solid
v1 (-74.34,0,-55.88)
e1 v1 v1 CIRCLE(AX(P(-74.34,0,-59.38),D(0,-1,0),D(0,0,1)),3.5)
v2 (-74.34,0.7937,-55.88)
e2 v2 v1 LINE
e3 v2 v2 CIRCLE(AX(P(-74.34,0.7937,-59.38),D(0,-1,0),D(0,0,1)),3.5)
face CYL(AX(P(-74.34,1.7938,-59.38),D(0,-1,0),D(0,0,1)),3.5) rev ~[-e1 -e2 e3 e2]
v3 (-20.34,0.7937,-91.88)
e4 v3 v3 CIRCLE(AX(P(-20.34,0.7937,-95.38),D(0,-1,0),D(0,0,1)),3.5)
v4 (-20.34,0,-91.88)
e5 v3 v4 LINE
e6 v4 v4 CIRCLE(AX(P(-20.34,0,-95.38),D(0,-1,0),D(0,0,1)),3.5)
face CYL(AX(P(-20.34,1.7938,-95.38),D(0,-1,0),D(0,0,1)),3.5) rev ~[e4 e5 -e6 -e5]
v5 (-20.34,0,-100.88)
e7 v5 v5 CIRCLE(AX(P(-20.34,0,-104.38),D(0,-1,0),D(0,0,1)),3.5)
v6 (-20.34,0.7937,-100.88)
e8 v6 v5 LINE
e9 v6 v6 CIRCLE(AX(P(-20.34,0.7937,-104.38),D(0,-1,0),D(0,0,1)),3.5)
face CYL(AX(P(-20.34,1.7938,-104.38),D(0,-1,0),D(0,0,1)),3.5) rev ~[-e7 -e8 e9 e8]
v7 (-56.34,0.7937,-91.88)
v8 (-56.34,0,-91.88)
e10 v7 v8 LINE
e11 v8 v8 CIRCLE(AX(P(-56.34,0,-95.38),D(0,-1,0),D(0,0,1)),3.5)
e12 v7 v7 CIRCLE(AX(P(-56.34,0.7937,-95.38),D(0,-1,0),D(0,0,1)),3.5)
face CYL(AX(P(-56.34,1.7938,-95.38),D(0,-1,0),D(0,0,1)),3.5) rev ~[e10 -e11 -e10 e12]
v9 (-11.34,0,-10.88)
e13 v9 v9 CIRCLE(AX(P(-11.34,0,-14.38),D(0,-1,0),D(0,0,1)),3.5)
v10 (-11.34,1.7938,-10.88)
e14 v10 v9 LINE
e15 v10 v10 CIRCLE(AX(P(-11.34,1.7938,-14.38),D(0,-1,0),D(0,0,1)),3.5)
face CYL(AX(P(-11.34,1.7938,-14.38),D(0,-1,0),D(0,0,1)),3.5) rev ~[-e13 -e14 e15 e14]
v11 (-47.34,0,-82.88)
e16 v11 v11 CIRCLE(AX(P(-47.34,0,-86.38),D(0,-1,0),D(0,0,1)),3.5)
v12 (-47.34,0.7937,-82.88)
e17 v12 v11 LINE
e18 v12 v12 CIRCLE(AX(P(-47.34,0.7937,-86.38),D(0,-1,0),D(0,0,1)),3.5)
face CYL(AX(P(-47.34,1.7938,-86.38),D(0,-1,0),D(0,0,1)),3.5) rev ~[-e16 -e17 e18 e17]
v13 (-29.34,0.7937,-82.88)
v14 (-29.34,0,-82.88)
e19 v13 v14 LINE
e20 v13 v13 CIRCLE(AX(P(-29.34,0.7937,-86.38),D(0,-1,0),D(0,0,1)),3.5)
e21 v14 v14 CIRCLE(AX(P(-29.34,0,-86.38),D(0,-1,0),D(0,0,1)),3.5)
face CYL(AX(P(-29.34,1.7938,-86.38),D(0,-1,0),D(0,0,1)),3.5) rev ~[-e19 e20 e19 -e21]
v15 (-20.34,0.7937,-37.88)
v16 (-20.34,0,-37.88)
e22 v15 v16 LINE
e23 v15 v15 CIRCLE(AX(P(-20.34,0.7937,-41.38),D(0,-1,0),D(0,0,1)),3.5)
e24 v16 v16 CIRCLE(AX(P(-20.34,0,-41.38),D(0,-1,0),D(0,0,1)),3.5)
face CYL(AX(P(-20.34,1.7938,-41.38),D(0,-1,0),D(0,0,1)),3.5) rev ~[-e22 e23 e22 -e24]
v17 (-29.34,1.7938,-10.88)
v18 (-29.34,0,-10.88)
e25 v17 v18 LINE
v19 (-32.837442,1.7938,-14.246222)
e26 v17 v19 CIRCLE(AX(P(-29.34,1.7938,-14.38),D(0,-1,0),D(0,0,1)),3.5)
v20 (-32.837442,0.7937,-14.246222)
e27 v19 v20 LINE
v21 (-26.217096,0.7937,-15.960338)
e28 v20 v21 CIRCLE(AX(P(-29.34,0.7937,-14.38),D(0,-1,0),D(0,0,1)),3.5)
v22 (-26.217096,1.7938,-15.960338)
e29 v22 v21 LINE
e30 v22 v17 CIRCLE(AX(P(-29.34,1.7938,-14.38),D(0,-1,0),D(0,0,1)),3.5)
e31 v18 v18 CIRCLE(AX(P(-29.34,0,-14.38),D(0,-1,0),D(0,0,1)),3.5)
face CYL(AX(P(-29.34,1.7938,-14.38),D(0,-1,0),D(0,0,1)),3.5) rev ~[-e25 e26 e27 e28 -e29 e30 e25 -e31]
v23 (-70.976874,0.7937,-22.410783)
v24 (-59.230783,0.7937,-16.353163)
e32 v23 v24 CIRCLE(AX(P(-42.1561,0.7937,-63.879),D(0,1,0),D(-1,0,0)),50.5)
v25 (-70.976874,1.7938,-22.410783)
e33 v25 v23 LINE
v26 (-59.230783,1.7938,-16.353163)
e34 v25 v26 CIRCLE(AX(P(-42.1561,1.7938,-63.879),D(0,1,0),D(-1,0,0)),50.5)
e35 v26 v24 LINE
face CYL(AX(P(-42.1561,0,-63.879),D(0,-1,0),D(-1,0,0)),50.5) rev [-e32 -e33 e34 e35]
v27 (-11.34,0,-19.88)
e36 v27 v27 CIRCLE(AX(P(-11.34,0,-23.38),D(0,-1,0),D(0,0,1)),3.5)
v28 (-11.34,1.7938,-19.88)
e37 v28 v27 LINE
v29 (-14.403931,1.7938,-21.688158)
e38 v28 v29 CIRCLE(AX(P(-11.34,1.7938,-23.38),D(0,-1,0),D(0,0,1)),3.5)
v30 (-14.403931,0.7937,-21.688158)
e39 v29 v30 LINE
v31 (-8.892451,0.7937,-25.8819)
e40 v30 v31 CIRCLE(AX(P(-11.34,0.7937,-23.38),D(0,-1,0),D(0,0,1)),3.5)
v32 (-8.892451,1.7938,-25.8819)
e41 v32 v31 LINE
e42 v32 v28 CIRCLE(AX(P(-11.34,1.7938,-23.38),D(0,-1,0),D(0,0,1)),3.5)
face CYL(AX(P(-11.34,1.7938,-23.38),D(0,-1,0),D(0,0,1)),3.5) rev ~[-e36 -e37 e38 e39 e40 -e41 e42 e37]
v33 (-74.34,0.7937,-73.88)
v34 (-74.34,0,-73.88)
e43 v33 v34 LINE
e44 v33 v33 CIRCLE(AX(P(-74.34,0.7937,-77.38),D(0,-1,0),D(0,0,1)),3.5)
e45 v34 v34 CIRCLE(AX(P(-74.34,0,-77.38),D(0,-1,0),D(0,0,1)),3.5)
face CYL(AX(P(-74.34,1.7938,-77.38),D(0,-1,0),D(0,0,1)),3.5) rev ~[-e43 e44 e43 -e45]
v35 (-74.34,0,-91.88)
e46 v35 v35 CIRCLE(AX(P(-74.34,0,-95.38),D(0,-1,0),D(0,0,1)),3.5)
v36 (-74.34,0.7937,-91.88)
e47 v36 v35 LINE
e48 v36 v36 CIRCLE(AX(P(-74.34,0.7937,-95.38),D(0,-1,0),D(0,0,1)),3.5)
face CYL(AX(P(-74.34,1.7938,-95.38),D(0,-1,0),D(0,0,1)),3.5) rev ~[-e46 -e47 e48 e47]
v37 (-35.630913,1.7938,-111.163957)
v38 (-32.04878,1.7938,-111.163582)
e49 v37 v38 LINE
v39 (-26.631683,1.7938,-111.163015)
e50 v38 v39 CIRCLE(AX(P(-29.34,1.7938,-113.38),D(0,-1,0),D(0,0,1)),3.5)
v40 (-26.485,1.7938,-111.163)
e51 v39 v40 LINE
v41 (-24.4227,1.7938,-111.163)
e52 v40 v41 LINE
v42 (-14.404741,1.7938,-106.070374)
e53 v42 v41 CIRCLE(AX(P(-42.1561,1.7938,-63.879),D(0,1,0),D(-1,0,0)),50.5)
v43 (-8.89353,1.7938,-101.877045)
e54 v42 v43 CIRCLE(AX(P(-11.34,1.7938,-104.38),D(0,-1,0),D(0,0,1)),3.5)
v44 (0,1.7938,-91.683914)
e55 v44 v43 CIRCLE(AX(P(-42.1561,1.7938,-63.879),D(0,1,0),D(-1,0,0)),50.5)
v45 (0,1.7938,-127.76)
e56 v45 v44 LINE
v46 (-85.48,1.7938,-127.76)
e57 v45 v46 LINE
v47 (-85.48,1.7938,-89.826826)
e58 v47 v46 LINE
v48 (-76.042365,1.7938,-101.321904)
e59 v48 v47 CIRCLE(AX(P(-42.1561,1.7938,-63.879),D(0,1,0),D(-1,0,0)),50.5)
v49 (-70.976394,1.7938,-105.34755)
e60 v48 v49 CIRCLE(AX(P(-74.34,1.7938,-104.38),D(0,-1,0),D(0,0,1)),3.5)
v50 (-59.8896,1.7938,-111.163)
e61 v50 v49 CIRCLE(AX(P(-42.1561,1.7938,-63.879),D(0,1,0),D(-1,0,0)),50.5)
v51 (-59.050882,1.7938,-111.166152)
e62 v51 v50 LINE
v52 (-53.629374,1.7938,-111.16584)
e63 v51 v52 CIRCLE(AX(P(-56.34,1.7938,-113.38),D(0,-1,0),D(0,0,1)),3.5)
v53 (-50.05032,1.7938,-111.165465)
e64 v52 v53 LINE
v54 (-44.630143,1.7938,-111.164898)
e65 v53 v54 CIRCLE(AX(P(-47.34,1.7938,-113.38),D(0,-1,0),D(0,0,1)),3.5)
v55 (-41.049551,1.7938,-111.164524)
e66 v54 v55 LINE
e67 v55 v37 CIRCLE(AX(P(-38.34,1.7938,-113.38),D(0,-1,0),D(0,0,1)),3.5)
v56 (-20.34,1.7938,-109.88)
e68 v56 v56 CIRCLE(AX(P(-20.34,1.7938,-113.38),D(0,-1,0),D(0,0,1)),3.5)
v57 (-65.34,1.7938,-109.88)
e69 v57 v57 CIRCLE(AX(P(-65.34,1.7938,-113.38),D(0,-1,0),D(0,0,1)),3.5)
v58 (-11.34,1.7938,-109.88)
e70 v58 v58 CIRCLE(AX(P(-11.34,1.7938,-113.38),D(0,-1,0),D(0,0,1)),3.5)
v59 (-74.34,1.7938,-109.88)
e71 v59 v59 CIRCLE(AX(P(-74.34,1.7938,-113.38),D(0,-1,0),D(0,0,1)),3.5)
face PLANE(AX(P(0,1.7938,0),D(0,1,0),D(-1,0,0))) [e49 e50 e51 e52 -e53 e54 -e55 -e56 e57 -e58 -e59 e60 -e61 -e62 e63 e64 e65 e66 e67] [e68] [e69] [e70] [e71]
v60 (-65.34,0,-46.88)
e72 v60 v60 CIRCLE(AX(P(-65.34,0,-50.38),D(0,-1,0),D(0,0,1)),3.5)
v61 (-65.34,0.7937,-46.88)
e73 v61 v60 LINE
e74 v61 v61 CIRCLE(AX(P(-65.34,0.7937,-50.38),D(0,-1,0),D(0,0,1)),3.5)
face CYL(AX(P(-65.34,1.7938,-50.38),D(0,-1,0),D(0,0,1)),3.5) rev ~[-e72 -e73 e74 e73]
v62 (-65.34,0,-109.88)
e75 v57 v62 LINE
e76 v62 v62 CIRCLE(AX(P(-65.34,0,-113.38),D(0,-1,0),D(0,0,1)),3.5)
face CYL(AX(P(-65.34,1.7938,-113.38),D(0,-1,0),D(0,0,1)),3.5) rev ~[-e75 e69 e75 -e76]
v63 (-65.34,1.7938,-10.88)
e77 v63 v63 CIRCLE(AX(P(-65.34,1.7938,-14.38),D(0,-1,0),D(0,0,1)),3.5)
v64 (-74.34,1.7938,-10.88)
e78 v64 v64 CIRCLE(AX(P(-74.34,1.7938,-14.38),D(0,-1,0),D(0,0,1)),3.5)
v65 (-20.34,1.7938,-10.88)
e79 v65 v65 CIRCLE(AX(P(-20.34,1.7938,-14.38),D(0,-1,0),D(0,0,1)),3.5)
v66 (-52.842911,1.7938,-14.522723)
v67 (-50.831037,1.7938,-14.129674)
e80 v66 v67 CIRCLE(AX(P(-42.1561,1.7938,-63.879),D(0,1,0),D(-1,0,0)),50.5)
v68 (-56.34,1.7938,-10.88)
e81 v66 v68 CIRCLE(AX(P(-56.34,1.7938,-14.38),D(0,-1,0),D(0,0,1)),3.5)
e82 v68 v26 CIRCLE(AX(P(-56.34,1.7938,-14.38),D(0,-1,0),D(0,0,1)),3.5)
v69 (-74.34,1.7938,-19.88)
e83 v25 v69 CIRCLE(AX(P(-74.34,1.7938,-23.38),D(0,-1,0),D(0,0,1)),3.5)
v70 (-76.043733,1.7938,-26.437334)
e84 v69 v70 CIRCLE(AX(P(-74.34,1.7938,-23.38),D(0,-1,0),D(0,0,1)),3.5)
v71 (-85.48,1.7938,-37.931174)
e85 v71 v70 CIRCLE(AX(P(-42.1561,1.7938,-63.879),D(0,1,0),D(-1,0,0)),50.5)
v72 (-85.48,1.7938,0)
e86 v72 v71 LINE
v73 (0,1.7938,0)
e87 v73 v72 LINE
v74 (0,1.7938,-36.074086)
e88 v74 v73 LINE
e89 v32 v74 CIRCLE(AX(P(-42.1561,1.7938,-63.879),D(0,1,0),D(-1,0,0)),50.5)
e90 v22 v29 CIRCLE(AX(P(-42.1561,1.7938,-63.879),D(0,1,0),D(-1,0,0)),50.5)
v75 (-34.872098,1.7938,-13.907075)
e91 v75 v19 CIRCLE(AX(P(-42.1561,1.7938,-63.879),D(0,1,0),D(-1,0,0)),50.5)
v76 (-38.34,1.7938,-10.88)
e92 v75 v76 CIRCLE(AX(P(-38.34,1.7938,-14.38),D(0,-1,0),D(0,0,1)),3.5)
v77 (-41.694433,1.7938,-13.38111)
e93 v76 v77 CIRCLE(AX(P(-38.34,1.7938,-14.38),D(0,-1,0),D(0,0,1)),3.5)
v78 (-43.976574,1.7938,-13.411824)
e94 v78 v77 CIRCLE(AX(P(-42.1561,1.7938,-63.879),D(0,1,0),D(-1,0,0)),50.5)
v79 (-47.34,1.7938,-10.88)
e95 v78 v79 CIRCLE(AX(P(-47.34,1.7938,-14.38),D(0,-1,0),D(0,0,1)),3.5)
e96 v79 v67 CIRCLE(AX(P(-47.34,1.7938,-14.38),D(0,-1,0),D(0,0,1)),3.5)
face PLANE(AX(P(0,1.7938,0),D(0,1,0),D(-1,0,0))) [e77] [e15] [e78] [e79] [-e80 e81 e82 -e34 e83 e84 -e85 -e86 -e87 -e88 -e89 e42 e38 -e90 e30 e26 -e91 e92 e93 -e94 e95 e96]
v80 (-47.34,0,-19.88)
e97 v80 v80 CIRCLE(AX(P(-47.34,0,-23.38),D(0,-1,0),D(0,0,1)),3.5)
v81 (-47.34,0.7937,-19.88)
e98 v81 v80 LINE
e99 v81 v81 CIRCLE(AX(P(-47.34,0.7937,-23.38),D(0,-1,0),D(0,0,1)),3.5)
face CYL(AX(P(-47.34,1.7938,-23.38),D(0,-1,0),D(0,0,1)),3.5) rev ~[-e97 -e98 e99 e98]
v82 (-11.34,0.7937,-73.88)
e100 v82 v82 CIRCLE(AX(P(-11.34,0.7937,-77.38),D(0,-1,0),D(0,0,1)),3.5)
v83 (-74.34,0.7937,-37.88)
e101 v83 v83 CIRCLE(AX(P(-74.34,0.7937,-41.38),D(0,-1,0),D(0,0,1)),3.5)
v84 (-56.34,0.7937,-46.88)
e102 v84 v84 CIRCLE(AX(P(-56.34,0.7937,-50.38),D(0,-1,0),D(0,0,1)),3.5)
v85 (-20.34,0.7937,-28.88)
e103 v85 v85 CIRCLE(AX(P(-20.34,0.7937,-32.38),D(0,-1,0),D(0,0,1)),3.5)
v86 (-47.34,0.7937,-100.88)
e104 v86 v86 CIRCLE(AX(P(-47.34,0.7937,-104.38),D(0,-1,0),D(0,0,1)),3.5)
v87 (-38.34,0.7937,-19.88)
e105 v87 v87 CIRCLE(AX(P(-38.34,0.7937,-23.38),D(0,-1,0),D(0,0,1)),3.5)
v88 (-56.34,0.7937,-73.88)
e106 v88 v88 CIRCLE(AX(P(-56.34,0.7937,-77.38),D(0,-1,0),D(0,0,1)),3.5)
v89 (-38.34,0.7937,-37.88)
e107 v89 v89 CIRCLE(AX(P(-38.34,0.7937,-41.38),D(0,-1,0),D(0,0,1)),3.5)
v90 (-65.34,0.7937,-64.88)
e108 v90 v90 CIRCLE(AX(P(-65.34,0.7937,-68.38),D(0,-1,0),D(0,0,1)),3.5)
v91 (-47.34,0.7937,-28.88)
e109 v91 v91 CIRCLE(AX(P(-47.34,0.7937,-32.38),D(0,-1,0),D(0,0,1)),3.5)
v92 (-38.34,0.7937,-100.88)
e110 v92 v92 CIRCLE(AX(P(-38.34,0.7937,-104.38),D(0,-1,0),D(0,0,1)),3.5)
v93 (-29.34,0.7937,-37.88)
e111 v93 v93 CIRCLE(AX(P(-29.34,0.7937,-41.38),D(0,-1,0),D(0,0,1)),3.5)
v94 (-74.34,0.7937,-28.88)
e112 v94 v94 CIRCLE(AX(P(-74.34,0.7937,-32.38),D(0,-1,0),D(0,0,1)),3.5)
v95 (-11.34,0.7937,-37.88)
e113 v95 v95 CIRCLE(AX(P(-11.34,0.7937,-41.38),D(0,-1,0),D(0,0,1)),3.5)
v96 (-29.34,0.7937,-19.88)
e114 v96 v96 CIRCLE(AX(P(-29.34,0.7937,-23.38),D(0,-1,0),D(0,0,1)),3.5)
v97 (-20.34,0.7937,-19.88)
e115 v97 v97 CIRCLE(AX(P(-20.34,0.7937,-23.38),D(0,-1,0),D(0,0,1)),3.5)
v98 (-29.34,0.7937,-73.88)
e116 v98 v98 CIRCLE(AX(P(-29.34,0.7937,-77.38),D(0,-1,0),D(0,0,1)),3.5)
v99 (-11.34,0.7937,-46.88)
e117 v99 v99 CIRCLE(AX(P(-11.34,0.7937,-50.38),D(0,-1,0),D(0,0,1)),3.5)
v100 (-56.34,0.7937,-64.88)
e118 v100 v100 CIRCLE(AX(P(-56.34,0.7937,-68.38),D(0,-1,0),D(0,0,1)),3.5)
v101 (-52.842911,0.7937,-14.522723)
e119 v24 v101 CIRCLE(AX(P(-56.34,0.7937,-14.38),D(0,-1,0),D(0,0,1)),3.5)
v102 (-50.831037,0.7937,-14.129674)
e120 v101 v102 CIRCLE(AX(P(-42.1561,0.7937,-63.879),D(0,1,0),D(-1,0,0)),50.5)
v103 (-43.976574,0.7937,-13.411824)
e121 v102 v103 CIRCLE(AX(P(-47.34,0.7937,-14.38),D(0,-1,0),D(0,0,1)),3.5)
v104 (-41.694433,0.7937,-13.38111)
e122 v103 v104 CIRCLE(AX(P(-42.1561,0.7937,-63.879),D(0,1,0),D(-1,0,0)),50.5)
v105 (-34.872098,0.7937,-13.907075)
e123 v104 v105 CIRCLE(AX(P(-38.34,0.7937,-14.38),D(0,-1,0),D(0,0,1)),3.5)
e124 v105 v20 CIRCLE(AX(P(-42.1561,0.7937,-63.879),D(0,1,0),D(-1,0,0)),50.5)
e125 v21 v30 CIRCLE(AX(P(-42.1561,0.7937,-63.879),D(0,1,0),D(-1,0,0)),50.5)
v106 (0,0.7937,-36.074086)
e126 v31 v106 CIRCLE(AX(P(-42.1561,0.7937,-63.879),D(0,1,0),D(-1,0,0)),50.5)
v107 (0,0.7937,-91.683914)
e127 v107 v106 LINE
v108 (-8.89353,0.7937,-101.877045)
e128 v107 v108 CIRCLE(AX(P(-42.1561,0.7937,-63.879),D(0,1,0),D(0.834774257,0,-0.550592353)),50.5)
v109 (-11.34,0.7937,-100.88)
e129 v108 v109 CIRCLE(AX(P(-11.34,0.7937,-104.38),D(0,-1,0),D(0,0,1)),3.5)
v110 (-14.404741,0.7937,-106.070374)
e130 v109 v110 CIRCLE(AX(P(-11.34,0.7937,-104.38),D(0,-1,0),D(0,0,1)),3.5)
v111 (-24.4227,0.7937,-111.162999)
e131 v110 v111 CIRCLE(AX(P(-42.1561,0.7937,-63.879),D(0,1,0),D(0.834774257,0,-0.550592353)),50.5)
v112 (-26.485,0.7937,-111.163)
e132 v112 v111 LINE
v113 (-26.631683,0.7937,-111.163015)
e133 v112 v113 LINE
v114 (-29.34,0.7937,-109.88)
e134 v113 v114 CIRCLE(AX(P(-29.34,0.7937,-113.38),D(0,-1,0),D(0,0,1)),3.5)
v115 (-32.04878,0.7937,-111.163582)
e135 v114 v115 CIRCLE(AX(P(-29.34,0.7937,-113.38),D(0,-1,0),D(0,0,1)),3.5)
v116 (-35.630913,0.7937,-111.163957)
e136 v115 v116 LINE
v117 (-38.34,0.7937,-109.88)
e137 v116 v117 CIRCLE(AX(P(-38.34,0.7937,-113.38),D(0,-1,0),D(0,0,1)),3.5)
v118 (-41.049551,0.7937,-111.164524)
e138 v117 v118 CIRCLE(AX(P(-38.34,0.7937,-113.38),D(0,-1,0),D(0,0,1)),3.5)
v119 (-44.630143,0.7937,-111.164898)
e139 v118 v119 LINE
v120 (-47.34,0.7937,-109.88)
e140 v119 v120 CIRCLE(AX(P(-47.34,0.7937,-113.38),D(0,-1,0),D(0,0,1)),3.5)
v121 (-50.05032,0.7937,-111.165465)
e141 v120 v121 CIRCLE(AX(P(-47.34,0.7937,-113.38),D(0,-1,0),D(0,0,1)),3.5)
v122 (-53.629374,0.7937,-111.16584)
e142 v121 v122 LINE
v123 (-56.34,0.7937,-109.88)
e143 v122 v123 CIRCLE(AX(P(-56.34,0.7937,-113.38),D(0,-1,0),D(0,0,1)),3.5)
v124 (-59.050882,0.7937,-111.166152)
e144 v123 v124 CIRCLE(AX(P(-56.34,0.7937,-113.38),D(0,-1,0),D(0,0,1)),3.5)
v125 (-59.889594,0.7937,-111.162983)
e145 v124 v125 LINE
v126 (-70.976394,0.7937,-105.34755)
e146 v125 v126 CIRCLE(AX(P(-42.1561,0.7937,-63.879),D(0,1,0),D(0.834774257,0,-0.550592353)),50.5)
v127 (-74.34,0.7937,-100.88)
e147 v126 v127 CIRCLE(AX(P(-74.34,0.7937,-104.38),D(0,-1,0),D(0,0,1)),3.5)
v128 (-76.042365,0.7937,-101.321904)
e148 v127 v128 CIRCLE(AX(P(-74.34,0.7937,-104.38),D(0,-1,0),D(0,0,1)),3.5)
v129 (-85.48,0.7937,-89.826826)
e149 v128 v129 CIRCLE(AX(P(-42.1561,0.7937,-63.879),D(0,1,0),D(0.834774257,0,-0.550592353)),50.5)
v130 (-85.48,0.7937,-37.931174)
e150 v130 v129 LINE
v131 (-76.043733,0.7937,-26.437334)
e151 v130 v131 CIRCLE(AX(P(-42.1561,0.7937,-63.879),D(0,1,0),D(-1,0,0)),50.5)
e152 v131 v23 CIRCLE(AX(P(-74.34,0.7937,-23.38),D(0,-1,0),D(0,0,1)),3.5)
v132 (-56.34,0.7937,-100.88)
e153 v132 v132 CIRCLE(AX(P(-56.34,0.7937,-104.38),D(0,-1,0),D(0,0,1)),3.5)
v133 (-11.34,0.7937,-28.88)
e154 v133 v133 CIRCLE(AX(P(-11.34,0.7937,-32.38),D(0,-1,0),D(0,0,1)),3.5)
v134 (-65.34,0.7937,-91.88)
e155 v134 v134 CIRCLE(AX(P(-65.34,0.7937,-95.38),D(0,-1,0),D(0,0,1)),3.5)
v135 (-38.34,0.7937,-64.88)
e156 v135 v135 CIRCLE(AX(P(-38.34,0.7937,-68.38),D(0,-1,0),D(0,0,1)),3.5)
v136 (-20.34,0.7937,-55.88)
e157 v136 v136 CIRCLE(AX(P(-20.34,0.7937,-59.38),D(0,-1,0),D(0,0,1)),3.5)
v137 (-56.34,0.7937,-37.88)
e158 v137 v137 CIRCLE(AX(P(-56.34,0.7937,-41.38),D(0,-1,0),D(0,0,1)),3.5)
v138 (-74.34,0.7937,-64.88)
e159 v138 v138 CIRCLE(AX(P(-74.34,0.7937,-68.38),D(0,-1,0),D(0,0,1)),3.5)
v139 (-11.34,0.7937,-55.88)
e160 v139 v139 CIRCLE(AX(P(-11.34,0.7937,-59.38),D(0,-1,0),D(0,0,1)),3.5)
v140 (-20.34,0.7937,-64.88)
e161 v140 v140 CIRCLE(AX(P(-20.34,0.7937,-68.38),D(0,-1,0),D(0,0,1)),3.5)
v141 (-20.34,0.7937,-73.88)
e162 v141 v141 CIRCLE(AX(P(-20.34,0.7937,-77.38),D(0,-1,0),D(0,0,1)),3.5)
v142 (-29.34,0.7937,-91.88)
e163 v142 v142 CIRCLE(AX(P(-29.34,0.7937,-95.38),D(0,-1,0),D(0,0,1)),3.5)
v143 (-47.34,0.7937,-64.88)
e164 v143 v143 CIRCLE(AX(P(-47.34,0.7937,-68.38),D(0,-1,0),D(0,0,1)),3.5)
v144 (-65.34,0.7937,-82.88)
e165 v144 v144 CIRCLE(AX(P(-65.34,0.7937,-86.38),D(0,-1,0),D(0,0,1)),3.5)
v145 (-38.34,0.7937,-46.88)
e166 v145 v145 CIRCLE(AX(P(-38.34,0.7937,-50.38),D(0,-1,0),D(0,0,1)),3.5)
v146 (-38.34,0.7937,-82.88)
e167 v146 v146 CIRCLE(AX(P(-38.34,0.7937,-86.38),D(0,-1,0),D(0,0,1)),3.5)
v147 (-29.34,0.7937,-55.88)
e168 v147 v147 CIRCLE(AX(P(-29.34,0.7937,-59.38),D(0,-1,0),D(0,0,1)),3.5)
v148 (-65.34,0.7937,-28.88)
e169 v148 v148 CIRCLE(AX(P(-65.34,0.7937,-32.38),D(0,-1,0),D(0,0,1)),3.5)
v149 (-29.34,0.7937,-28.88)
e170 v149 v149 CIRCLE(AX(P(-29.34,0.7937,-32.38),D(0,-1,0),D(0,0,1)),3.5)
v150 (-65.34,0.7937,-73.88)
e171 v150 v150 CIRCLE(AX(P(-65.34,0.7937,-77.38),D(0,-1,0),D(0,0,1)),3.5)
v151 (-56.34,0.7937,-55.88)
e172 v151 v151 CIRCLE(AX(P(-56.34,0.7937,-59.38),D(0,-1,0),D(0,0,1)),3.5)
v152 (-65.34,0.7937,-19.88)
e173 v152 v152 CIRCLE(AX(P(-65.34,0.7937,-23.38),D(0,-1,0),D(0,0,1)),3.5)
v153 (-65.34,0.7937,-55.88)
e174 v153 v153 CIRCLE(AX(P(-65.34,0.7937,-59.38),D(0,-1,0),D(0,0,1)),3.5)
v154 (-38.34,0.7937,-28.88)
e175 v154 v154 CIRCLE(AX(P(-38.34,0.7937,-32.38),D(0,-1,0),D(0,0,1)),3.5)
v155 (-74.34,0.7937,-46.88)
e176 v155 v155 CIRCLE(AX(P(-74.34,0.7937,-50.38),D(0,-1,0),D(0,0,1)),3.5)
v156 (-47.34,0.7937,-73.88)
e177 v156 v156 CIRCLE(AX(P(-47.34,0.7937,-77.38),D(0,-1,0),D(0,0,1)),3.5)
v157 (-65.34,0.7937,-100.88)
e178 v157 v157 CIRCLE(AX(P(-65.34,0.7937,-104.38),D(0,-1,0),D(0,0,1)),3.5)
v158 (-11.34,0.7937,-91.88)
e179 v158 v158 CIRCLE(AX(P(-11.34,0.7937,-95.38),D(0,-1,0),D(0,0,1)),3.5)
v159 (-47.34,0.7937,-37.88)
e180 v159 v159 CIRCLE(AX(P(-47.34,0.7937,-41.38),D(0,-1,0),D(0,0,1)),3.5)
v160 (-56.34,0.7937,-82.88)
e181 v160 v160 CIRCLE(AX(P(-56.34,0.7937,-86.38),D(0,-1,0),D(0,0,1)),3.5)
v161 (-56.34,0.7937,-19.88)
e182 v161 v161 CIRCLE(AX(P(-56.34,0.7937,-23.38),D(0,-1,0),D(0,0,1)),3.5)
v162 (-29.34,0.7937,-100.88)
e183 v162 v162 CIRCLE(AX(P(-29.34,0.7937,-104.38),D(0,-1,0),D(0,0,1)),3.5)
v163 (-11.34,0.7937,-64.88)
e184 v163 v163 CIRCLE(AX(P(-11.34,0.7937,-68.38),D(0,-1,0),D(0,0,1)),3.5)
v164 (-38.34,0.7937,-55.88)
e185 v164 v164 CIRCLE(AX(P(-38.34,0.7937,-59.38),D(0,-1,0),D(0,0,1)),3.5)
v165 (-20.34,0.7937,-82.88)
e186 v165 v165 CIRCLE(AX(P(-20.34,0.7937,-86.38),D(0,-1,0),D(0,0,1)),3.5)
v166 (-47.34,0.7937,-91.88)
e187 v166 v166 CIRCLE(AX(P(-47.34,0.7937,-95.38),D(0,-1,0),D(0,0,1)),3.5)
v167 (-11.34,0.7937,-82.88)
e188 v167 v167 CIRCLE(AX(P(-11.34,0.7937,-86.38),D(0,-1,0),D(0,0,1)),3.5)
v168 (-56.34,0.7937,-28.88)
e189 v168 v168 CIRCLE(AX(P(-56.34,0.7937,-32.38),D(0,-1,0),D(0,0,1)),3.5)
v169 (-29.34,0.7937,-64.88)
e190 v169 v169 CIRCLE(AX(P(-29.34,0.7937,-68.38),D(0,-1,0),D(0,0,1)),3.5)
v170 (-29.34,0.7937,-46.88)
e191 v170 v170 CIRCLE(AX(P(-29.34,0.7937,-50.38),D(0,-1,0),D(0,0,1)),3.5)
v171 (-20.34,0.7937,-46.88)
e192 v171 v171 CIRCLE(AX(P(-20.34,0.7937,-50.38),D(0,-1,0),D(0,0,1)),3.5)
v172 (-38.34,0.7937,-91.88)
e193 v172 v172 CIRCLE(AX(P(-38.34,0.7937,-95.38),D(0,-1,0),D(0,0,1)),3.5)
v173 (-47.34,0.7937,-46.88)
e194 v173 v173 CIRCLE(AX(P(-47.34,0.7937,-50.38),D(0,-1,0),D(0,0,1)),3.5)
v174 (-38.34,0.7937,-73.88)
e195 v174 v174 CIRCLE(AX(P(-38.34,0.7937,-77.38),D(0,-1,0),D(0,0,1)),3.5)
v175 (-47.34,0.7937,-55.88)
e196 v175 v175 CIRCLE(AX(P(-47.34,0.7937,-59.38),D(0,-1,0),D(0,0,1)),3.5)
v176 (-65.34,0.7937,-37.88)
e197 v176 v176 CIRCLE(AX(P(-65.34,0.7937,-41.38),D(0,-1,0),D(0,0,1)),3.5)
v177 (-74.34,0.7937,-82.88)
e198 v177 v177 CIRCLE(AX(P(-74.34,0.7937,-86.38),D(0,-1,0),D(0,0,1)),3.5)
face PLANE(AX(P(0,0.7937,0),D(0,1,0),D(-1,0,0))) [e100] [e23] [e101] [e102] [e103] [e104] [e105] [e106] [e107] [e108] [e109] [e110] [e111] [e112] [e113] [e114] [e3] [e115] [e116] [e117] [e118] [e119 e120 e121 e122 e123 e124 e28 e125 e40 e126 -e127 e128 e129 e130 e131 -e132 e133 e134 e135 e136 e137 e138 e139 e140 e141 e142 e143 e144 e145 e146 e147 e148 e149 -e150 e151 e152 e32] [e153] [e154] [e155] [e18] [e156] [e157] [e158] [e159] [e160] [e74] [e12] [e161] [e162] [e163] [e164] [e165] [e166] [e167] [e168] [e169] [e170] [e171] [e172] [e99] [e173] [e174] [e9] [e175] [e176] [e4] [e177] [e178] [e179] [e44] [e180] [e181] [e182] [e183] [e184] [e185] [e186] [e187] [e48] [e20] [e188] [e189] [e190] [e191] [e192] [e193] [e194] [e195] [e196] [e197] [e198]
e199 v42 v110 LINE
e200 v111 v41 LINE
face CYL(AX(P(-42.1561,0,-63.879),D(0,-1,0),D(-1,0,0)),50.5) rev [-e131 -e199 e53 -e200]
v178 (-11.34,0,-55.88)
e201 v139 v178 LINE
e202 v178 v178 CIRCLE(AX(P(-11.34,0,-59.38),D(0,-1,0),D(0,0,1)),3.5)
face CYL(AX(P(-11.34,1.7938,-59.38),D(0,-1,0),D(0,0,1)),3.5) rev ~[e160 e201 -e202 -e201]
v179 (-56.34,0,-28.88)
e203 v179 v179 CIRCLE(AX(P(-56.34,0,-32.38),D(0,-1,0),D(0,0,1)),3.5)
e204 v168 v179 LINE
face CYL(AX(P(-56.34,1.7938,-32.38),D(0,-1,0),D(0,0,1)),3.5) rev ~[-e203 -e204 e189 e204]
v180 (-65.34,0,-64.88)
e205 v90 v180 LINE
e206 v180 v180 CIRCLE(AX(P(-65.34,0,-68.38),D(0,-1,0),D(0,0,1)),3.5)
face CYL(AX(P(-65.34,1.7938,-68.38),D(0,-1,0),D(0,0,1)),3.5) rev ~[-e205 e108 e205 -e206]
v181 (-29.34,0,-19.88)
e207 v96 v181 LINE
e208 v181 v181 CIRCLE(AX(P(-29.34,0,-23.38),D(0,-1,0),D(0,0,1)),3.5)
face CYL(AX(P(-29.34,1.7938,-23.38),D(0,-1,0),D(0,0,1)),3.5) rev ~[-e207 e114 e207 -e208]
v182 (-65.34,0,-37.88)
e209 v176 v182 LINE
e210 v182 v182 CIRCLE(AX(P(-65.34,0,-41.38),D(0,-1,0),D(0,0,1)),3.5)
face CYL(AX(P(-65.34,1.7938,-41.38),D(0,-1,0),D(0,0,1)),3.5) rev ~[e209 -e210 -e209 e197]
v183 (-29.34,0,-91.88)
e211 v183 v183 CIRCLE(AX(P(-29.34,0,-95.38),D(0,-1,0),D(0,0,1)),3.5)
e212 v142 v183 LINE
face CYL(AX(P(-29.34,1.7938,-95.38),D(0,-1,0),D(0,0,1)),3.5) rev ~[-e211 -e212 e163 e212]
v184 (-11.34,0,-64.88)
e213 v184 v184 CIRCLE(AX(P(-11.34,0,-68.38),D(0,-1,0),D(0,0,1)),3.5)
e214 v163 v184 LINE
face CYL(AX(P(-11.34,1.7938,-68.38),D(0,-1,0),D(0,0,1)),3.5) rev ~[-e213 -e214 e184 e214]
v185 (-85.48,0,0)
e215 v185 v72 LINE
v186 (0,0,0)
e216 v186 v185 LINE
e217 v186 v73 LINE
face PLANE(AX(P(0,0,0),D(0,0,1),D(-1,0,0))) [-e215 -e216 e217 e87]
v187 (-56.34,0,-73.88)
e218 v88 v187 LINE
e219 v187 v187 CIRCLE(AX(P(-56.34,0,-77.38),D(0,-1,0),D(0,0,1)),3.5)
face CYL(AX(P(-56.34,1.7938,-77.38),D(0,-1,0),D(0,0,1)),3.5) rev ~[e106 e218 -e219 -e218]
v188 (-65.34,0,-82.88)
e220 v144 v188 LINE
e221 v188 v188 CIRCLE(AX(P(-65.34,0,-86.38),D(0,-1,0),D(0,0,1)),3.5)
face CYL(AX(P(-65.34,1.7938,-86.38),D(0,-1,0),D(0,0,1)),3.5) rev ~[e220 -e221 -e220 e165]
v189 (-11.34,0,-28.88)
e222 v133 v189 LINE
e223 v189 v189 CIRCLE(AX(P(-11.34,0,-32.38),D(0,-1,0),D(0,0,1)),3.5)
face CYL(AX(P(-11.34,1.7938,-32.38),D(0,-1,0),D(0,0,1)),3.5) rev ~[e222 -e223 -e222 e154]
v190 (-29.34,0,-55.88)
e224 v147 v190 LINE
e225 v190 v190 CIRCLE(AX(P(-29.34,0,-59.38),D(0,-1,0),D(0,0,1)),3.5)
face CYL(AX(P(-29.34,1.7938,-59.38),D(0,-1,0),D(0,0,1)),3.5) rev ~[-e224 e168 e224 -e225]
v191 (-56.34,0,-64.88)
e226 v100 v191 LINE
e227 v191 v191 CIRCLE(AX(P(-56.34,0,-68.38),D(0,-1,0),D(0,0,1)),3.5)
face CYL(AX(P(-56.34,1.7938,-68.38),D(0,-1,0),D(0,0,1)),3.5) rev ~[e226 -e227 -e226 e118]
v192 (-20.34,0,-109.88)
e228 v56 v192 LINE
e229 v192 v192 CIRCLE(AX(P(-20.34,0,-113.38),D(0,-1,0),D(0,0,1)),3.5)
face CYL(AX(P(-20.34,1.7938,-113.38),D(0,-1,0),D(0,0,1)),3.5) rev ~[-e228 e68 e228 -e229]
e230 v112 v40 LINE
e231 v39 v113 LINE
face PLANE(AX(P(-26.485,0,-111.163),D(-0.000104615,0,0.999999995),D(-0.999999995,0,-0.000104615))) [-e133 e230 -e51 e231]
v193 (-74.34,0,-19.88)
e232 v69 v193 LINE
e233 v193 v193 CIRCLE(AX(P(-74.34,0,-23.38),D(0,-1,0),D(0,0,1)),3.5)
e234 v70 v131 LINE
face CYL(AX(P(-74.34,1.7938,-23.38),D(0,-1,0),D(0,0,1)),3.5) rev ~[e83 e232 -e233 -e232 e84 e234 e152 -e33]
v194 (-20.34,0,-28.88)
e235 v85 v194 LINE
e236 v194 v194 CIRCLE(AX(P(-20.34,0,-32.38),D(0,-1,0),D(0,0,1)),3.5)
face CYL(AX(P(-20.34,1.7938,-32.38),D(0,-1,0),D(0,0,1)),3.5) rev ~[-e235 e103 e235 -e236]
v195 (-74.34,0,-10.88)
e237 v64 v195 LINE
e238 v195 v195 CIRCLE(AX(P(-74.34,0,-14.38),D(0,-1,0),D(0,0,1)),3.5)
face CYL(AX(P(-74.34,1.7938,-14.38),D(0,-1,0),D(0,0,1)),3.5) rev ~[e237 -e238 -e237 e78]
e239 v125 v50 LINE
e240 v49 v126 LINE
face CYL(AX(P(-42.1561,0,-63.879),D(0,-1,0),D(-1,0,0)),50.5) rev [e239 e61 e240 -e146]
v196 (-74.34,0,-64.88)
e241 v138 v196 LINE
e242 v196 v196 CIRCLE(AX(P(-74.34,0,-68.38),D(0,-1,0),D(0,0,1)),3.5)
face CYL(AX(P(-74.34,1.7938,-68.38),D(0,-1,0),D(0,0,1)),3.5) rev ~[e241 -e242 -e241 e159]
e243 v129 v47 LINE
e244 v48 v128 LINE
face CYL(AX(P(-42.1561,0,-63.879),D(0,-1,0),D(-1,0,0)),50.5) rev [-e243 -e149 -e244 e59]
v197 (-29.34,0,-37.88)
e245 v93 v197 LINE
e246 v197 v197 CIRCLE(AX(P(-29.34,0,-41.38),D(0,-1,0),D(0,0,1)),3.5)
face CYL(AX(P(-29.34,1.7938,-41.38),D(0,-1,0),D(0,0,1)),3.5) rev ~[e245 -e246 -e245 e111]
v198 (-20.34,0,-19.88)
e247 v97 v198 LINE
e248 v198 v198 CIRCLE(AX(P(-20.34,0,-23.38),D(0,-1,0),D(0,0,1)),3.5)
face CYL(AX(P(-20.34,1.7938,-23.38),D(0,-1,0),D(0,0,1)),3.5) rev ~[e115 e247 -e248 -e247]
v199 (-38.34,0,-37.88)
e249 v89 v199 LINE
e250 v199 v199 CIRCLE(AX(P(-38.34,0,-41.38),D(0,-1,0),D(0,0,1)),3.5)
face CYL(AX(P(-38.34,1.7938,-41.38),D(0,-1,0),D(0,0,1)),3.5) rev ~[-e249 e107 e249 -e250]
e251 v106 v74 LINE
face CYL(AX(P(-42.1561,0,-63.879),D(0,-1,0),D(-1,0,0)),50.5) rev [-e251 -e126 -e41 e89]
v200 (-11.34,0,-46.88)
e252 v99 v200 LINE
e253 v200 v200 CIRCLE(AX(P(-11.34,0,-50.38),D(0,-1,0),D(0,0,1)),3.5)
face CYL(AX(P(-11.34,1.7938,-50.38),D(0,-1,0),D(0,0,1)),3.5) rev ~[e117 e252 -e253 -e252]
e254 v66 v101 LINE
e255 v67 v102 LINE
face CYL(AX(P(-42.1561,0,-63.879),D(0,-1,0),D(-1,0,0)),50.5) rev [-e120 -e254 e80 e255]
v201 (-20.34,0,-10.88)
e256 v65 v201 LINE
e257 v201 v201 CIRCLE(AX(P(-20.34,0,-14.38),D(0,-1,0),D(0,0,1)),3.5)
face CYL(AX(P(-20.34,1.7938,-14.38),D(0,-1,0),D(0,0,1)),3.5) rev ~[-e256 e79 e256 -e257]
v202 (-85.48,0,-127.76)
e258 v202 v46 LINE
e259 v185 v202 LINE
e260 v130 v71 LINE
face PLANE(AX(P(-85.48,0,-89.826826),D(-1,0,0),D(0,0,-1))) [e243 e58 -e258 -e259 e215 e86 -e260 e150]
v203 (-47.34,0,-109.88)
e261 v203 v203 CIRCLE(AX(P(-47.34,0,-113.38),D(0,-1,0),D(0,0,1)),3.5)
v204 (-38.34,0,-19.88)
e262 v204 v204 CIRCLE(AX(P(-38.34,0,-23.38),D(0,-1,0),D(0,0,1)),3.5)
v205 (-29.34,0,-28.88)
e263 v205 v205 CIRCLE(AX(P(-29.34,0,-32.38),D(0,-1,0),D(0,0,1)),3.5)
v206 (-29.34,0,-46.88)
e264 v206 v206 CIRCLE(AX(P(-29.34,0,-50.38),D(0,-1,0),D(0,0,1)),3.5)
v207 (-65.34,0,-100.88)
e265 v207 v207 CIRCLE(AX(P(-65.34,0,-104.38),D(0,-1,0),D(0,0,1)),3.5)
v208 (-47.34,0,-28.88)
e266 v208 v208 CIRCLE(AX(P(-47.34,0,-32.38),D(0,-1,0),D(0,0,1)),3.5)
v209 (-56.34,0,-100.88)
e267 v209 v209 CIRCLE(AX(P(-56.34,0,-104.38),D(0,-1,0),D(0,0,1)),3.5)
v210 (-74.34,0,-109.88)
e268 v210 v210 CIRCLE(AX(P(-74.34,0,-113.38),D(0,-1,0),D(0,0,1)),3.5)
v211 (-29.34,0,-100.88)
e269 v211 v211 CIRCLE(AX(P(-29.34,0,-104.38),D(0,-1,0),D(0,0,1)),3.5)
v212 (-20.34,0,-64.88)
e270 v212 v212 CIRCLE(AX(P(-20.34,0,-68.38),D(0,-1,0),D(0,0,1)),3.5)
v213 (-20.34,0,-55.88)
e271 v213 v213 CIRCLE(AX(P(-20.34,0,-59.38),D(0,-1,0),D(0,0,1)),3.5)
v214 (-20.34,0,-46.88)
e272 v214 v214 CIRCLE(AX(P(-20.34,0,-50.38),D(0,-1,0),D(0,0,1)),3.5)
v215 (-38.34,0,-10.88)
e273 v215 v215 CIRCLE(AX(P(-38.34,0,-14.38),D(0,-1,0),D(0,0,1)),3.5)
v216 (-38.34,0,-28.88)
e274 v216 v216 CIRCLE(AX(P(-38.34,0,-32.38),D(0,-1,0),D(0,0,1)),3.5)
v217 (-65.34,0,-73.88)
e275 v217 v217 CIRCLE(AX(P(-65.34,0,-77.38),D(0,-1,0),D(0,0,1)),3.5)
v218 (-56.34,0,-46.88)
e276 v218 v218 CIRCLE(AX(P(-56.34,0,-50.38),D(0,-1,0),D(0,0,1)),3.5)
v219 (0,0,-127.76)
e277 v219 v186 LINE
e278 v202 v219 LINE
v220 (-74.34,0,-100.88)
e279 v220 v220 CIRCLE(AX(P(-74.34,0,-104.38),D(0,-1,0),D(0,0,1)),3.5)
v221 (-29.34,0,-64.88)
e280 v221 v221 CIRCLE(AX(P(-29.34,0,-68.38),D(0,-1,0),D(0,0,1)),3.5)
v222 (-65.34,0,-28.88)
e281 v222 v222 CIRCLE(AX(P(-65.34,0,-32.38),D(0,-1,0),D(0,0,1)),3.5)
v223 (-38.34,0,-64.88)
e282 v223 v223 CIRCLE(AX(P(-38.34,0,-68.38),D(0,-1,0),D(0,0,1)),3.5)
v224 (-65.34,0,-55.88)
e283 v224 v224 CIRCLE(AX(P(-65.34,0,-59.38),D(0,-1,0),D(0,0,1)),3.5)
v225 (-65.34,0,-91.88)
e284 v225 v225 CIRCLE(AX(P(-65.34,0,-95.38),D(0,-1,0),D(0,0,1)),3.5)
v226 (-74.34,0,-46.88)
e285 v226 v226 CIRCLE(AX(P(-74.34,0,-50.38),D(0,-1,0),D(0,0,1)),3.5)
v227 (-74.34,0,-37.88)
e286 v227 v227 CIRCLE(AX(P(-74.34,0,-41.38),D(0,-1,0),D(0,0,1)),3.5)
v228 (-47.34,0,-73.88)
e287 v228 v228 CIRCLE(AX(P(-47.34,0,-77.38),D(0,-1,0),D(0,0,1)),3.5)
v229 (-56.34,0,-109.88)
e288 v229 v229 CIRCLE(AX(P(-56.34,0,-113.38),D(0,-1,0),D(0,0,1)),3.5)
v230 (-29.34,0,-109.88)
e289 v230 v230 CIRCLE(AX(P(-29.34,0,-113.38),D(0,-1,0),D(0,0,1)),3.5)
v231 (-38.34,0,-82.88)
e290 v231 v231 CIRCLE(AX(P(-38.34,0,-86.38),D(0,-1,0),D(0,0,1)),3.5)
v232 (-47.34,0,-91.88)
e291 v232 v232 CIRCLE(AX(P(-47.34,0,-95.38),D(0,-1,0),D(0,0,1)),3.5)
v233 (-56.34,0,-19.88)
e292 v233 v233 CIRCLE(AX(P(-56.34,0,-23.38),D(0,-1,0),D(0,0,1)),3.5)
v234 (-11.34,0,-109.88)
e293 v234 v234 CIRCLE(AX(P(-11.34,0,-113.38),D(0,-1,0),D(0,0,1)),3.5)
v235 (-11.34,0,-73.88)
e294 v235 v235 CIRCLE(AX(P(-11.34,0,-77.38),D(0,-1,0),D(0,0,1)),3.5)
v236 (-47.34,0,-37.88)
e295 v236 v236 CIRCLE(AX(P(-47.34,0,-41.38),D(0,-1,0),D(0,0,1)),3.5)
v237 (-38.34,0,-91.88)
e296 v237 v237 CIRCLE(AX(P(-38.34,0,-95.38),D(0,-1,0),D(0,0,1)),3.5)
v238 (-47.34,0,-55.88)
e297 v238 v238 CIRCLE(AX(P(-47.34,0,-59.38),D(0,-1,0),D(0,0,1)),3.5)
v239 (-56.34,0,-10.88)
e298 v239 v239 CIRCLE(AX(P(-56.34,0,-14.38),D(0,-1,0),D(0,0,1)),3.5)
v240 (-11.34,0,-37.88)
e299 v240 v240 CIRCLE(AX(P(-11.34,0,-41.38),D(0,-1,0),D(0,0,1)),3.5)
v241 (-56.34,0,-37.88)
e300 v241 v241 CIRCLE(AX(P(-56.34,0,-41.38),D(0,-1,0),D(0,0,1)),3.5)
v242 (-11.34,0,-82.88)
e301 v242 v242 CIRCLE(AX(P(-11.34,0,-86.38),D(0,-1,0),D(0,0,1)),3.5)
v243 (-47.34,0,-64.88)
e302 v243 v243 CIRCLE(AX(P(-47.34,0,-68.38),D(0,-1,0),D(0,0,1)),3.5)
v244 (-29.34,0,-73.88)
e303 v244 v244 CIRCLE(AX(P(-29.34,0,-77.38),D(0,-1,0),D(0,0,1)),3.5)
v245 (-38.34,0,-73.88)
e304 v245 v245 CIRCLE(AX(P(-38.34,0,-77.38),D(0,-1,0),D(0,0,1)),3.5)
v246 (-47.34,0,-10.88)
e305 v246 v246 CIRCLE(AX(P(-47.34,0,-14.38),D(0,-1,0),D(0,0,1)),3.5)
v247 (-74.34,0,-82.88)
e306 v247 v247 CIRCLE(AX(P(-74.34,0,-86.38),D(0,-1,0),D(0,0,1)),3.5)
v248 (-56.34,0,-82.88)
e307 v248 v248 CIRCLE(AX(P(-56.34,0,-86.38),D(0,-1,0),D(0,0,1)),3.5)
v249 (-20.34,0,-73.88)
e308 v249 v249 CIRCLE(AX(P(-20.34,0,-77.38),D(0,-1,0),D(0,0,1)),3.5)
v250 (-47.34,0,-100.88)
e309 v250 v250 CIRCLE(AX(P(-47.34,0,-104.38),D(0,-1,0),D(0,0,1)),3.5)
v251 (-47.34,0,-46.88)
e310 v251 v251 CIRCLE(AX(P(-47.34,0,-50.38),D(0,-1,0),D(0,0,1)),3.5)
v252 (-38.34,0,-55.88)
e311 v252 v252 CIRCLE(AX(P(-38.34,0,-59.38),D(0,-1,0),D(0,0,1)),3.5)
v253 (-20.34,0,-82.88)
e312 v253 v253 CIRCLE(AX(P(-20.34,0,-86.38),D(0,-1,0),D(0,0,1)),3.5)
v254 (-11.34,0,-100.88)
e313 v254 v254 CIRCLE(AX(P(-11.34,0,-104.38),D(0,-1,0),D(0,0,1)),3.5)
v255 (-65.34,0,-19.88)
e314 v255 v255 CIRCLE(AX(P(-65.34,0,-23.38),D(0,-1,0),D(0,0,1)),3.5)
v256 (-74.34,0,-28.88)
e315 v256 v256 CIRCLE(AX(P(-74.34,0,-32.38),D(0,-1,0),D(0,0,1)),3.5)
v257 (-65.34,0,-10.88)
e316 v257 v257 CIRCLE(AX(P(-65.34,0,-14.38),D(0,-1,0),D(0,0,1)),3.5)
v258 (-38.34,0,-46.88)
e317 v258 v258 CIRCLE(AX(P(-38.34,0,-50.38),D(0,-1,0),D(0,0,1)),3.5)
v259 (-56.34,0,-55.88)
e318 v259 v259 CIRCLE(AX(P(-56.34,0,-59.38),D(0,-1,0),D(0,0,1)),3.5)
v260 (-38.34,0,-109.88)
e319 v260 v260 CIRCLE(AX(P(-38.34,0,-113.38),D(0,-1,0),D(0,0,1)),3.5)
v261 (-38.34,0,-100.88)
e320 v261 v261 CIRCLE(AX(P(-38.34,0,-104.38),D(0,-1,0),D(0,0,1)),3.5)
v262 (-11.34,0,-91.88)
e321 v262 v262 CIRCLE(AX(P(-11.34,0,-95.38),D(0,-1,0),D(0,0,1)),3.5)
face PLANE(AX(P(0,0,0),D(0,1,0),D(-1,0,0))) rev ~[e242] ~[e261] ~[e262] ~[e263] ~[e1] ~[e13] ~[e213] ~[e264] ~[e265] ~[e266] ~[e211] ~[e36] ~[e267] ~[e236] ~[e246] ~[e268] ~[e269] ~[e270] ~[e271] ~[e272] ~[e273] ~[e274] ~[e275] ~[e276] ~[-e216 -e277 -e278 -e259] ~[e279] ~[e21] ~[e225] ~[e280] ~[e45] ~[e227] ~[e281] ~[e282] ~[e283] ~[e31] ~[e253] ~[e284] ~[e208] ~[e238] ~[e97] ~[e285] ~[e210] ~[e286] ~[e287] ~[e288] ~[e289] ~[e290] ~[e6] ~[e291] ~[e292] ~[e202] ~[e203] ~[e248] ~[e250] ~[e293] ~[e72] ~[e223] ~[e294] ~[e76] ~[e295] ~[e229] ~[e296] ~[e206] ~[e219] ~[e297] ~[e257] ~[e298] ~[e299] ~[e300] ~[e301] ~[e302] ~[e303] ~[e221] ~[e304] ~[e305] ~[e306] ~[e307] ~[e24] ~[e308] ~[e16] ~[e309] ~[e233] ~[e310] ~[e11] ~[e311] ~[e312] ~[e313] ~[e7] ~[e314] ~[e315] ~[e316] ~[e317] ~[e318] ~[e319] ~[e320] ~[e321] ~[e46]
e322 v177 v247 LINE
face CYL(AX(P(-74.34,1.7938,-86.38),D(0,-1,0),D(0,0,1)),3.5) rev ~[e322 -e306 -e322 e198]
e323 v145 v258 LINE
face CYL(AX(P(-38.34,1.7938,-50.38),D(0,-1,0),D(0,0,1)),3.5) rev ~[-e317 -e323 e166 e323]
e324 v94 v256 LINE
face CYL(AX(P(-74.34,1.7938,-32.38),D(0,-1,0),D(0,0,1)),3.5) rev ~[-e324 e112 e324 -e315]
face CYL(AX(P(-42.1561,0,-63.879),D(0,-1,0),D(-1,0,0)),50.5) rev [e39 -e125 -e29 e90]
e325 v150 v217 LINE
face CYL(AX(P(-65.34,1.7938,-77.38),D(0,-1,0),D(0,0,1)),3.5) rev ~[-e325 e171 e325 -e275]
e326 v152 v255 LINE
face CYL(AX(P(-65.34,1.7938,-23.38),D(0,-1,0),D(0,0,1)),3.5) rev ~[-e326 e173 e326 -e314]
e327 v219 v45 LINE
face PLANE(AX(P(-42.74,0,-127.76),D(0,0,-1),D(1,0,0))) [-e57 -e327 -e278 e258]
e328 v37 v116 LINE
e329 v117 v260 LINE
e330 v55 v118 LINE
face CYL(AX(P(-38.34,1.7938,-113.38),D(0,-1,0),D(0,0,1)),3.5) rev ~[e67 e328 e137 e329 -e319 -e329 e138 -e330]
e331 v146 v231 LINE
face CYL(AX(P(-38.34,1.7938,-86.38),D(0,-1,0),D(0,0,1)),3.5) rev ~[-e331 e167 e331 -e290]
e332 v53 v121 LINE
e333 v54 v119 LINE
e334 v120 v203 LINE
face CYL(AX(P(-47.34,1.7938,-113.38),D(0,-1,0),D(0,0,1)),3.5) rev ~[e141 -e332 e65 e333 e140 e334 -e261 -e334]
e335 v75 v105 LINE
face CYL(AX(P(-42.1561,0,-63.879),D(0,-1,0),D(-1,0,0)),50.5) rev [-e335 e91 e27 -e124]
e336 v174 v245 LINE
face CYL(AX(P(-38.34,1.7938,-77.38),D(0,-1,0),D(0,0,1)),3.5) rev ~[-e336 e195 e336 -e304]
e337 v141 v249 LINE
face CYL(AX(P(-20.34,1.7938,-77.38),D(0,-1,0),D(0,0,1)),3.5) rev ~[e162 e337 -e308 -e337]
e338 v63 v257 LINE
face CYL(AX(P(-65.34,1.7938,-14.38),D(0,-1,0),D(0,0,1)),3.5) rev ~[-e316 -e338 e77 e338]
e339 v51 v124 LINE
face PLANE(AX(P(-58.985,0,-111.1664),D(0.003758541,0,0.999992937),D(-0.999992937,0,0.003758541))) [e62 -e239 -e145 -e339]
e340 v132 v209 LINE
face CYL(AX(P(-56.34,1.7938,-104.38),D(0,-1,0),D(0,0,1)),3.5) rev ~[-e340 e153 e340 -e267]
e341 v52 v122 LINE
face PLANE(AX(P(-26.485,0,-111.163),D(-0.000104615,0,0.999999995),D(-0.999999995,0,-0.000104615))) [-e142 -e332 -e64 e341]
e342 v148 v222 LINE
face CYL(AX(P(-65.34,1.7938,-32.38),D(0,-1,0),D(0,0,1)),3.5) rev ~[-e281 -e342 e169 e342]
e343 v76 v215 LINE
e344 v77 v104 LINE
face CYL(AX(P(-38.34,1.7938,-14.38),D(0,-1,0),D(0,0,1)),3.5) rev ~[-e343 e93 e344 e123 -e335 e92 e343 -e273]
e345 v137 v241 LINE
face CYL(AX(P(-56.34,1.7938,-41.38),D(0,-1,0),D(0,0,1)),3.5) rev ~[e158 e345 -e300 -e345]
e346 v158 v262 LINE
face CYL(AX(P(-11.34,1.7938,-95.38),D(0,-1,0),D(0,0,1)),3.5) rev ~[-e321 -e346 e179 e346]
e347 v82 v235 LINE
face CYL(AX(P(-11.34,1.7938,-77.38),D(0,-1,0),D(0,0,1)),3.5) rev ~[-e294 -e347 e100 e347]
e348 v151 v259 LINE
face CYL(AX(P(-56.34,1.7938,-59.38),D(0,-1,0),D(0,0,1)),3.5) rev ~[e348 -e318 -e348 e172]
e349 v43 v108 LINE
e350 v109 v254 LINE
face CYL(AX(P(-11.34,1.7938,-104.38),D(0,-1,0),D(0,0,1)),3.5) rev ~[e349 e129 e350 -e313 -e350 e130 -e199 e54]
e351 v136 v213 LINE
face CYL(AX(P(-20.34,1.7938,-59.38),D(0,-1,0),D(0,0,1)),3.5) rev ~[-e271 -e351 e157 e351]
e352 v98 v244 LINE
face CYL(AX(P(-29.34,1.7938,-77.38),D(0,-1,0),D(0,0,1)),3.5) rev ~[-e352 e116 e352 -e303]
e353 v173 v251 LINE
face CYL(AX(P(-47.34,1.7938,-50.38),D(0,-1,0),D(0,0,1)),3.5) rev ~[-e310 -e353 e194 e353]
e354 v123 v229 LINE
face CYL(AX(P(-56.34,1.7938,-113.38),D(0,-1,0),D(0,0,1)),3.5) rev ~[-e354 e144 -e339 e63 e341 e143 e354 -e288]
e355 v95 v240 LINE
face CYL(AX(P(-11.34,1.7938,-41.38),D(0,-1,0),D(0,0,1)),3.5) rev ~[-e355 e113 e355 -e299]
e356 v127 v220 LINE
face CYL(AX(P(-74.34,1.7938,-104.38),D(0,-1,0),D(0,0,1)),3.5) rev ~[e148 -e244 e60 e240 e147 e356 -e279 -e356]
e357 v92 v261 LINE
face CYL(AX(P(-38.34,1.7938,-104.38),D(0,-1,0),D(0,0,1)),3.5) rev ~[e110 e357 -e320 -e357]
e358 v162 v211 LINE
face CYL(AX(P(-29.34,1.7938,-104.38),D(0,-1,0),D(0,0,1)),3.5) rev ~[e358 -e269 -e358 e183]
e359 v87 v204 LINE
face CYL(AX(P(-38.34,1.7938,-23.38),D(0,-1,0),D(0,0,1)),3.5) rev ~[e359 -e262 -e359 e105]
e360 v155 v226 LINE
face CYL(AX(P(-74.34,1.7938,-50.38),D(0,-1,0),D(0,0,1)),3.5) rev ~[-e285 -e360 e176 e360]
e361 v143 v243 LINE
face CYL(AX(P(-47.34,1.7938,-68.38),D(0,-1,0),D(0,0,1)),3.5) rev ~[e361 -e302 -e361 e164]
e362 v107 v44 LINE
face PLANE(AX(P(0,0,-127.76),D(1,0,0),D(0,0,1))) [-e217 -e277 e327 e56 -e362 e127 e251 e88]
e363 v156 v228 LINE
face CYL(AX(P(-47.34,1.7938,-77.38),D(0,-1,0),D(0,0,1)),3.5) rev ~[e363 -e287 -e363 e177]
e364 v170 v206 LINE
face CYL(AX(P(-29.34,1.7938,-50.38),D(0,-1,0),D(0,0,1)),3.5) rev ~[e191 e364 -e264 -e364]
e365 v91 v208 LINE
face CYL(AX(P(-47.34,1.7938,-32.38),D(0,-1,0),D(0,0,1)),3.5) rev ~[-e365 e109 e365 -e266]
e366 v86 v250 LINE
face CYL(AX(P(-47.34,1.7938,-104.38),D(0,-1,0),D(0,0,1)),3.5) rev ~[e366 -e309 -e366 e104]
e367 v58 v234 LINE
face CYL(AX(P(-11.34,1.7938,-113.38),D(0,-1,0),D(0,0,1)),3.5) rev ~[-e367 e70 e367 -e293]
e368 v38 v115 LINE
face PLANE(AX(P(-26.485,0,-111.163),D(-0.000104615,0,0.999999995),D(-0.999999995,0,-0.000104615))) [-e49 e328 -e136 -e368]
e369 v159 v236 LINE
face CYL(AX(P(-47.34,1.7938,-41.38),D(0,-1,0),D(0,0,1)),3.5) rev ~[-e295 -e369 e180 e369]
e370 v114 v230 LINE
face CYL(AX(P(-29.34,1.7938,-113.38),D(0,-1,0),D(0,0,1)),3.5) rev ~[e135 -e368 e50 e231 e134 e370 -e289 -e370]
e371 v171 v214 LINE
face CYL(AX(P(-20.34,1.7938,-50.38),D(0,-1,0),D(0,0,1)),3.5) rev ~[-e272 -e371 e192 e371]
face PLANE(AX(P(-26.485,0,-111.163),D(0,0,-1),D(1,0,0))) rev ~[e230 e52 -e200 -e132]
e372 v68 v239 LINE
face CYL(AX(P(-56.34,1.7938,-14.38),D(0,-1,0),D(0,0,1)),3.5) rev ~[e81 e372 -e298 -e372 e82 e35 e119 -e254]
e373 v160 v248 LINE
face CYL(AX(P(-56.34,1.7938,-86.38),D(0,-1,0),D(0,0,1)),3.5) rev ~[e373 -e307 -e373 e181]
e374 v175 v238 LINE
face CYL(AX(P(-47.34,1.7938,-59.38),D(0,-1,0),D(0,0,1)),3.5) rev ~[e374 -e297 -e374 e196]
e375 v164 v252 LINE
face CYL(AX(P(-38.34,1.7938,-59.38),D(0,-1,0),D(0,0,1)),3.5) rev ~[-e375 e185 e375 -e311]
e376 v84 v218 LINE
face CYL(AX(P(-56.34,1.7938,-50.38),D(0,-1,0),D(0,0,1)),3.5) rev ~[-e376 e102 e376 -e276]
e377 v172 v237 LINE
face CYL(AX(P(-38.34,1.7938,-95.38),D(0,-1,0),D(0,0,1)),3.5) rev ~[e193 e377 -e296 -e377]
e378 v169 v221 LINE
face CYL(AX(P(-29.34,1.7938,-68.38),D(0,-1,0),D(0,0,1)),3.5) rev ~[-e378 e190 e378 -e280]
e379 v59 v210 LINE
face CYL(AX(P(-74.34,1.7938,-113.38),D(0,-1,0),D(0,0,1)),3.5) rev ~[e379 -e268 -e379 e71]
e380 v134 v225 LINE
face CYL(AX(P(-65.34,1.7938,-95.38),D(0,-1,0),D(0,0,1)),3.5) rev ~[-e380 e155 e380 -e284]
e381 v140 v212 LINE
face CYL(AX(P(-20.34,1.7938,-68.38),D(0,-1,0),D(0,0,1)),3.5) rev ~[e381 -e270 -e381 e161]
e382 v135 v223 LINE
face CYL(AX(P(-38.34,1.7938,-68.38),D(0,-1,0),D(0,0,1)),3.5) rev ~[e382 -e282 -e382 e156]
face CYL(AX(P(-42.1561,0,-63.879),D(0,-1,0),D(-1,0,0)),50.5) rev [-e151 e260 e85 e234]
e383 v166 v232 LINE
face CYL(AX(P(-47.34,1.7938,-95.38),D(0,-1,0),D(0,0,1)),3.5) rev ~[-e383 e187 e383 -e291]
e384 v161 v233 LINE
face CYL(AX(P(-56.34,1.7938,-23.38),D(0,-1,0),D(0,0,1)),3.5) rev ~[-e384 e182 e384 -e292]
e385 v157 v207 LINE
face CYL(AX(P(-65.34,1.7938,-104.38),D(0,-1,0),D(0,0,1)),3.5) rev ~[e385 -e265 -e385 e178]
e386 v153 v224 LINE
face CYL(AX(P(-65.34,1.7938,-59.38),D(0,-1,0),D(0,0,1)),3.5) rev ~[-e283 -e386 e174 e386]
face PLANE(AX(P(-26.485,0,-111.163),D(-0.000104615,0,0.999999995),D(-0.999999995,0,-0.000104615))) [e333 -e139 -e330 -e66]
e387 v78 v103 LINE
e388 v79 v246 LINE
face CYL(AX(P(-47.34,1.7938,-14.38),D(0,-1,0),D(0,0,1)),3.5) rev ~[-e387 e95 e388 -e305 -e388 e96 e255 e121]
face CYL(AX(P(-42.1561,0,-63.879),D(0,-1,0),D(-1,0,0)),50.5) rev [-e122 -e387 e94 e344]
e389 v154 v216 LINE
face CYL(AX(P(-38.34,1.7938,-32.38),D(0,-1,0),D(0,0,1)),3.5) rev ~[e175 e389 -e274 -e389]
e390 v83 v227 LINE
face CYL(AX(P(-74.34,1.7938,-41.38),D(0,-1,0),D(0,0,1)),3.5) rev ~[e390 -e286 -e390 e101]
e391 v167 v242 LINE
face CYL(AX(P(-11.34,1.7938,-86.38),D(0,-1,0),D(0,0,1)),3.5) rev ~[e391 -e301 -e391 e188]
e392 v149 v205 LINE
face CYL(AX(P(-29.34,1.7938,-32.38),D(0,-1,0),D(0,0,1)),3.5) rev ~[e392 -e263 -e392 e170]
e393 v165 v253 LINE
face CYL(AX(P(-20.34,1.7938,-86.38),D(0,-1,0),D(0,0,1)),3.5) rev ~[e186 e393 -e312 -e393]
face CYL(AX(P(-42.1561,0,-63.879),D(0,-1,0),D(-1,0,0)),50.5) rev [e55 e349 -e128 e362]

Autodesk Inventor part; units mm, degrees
ref_plane "YZ Plane" through (0, 0, 0) normal (1, 0, 0) x (0, 1, 0)
ref_plane "XZ Plane" through (0, 0, 0) normal (0, 1, 0) x (-1, 0, 0)
ref_plane "XY Plane" through (0, 0, 0) normal (0, 0, 1) x (1, 0, 0)
sketch "Sketch1" plane through (0, 0, 0) normal (0, 1, 0) x (-1, 0, 0)
  line L0 (0, 0) -> (85.48, 0)
  line L1 (85.48, 0) -> (85.48, -127.76)
  line L2 (85.48, -127.76) -> (0, -127.76)
  line L3 (0, -127.76) -> (0, 0)
  line L4 (42.74, -127.76) -> (42.74, -63.879)
  circle A0 centre (42.1561, -63.879) radius 50.5
  line L5 (26.485, -111.163) -> (58.985, -111.1664)
  line L6 (42.74, -63.879) -> (42.7347, -113.879)
  line L7 (26.485, -111.163) -> (24.4227, -111.163)
  line L8 (58.985, -111.1664) -> (59.8896, -111.163)
  point P0 (85.48, -37.9311)
  point P1 (85.48, -89.8269)
  point P2 (0, -91.6839)
  point P3 (0, -36.0741)
  point P4 (42.735, -111.1647)
  point P5 (42.74, -111.1647)
  point P6 (42.74, -114.3756)
  dimension "d0" = 85.48
  dimension "d1" = 127.76
  dimension "d2" = 63.881
  dimension "d3" = 101
  dimension "d4" = 32.5
extrude "Extrusion1" add sketch "Sketch1" along normal blind 1.7938 contours L0 L1 A0 L3 | A0 L4 L2 L3 | L1 L2 L4 A0 | L7 L5 L4 A0 | A0 L4 L5 L8
extrude "Extrusion2" add sketch "Sketch1" along normal blind 0.7937 contours A0 L1 L8 L5 L4 L6 L7 L3 | L7 L5 L4 A0 | A0 L4 L5 L8 | L5 L6 L4
sketch "Sketch2" plane through (0, 1.7938, 0) normal (0, 1, 0) x (1, 0, 0)
  line L0 (-85.48, 127.76) -> (-85.48, 0) projected
  line L1 (-85.48, 25.2748) -> (-79.48, 25.2748)
  line L2 (-85.48, 25.2748) -> (-79.48, 25.2748) construction
  arc A0 (-85.48, 37.9311) -> (0, 36.0741) centre (-42.1561, 63.879) ccw projected
  line L3 (-42.1561, 13.379) -> (-42.1561, 19.379)
  line L4 (-42.1561, 19.379) -> (-85.48, 19.379)
  line L5 (-85.48, 19.379) -> (-79.48, 19.379)
  line L6 (0, 0) -> (0, 14.38)
  line L7 (0, 0) -> (0, 127.76) projected
  line L8 (0, 14.38) -> (-11.34, 14.38)
  dimension "d9" = 6
  dimension "d10" = 0
  dimension "d24" = 6
  dimension "d25" = 6
  dimension "d26" = 14.38
  dimension "d27" = 11.34
hole "Hole1" at (-11.34, 1.7938, -14.38) direction (0, -1, 0) diameter 7 end through all
pattern_linear "Rectangular Pattern1" count 12 spacing 9 along (0, 0, -1) count 8 spacing 9 along (-1, 0, 0) of "Hole1"
properties part number "100mm wafer wellplate - corral mask - with flat"
